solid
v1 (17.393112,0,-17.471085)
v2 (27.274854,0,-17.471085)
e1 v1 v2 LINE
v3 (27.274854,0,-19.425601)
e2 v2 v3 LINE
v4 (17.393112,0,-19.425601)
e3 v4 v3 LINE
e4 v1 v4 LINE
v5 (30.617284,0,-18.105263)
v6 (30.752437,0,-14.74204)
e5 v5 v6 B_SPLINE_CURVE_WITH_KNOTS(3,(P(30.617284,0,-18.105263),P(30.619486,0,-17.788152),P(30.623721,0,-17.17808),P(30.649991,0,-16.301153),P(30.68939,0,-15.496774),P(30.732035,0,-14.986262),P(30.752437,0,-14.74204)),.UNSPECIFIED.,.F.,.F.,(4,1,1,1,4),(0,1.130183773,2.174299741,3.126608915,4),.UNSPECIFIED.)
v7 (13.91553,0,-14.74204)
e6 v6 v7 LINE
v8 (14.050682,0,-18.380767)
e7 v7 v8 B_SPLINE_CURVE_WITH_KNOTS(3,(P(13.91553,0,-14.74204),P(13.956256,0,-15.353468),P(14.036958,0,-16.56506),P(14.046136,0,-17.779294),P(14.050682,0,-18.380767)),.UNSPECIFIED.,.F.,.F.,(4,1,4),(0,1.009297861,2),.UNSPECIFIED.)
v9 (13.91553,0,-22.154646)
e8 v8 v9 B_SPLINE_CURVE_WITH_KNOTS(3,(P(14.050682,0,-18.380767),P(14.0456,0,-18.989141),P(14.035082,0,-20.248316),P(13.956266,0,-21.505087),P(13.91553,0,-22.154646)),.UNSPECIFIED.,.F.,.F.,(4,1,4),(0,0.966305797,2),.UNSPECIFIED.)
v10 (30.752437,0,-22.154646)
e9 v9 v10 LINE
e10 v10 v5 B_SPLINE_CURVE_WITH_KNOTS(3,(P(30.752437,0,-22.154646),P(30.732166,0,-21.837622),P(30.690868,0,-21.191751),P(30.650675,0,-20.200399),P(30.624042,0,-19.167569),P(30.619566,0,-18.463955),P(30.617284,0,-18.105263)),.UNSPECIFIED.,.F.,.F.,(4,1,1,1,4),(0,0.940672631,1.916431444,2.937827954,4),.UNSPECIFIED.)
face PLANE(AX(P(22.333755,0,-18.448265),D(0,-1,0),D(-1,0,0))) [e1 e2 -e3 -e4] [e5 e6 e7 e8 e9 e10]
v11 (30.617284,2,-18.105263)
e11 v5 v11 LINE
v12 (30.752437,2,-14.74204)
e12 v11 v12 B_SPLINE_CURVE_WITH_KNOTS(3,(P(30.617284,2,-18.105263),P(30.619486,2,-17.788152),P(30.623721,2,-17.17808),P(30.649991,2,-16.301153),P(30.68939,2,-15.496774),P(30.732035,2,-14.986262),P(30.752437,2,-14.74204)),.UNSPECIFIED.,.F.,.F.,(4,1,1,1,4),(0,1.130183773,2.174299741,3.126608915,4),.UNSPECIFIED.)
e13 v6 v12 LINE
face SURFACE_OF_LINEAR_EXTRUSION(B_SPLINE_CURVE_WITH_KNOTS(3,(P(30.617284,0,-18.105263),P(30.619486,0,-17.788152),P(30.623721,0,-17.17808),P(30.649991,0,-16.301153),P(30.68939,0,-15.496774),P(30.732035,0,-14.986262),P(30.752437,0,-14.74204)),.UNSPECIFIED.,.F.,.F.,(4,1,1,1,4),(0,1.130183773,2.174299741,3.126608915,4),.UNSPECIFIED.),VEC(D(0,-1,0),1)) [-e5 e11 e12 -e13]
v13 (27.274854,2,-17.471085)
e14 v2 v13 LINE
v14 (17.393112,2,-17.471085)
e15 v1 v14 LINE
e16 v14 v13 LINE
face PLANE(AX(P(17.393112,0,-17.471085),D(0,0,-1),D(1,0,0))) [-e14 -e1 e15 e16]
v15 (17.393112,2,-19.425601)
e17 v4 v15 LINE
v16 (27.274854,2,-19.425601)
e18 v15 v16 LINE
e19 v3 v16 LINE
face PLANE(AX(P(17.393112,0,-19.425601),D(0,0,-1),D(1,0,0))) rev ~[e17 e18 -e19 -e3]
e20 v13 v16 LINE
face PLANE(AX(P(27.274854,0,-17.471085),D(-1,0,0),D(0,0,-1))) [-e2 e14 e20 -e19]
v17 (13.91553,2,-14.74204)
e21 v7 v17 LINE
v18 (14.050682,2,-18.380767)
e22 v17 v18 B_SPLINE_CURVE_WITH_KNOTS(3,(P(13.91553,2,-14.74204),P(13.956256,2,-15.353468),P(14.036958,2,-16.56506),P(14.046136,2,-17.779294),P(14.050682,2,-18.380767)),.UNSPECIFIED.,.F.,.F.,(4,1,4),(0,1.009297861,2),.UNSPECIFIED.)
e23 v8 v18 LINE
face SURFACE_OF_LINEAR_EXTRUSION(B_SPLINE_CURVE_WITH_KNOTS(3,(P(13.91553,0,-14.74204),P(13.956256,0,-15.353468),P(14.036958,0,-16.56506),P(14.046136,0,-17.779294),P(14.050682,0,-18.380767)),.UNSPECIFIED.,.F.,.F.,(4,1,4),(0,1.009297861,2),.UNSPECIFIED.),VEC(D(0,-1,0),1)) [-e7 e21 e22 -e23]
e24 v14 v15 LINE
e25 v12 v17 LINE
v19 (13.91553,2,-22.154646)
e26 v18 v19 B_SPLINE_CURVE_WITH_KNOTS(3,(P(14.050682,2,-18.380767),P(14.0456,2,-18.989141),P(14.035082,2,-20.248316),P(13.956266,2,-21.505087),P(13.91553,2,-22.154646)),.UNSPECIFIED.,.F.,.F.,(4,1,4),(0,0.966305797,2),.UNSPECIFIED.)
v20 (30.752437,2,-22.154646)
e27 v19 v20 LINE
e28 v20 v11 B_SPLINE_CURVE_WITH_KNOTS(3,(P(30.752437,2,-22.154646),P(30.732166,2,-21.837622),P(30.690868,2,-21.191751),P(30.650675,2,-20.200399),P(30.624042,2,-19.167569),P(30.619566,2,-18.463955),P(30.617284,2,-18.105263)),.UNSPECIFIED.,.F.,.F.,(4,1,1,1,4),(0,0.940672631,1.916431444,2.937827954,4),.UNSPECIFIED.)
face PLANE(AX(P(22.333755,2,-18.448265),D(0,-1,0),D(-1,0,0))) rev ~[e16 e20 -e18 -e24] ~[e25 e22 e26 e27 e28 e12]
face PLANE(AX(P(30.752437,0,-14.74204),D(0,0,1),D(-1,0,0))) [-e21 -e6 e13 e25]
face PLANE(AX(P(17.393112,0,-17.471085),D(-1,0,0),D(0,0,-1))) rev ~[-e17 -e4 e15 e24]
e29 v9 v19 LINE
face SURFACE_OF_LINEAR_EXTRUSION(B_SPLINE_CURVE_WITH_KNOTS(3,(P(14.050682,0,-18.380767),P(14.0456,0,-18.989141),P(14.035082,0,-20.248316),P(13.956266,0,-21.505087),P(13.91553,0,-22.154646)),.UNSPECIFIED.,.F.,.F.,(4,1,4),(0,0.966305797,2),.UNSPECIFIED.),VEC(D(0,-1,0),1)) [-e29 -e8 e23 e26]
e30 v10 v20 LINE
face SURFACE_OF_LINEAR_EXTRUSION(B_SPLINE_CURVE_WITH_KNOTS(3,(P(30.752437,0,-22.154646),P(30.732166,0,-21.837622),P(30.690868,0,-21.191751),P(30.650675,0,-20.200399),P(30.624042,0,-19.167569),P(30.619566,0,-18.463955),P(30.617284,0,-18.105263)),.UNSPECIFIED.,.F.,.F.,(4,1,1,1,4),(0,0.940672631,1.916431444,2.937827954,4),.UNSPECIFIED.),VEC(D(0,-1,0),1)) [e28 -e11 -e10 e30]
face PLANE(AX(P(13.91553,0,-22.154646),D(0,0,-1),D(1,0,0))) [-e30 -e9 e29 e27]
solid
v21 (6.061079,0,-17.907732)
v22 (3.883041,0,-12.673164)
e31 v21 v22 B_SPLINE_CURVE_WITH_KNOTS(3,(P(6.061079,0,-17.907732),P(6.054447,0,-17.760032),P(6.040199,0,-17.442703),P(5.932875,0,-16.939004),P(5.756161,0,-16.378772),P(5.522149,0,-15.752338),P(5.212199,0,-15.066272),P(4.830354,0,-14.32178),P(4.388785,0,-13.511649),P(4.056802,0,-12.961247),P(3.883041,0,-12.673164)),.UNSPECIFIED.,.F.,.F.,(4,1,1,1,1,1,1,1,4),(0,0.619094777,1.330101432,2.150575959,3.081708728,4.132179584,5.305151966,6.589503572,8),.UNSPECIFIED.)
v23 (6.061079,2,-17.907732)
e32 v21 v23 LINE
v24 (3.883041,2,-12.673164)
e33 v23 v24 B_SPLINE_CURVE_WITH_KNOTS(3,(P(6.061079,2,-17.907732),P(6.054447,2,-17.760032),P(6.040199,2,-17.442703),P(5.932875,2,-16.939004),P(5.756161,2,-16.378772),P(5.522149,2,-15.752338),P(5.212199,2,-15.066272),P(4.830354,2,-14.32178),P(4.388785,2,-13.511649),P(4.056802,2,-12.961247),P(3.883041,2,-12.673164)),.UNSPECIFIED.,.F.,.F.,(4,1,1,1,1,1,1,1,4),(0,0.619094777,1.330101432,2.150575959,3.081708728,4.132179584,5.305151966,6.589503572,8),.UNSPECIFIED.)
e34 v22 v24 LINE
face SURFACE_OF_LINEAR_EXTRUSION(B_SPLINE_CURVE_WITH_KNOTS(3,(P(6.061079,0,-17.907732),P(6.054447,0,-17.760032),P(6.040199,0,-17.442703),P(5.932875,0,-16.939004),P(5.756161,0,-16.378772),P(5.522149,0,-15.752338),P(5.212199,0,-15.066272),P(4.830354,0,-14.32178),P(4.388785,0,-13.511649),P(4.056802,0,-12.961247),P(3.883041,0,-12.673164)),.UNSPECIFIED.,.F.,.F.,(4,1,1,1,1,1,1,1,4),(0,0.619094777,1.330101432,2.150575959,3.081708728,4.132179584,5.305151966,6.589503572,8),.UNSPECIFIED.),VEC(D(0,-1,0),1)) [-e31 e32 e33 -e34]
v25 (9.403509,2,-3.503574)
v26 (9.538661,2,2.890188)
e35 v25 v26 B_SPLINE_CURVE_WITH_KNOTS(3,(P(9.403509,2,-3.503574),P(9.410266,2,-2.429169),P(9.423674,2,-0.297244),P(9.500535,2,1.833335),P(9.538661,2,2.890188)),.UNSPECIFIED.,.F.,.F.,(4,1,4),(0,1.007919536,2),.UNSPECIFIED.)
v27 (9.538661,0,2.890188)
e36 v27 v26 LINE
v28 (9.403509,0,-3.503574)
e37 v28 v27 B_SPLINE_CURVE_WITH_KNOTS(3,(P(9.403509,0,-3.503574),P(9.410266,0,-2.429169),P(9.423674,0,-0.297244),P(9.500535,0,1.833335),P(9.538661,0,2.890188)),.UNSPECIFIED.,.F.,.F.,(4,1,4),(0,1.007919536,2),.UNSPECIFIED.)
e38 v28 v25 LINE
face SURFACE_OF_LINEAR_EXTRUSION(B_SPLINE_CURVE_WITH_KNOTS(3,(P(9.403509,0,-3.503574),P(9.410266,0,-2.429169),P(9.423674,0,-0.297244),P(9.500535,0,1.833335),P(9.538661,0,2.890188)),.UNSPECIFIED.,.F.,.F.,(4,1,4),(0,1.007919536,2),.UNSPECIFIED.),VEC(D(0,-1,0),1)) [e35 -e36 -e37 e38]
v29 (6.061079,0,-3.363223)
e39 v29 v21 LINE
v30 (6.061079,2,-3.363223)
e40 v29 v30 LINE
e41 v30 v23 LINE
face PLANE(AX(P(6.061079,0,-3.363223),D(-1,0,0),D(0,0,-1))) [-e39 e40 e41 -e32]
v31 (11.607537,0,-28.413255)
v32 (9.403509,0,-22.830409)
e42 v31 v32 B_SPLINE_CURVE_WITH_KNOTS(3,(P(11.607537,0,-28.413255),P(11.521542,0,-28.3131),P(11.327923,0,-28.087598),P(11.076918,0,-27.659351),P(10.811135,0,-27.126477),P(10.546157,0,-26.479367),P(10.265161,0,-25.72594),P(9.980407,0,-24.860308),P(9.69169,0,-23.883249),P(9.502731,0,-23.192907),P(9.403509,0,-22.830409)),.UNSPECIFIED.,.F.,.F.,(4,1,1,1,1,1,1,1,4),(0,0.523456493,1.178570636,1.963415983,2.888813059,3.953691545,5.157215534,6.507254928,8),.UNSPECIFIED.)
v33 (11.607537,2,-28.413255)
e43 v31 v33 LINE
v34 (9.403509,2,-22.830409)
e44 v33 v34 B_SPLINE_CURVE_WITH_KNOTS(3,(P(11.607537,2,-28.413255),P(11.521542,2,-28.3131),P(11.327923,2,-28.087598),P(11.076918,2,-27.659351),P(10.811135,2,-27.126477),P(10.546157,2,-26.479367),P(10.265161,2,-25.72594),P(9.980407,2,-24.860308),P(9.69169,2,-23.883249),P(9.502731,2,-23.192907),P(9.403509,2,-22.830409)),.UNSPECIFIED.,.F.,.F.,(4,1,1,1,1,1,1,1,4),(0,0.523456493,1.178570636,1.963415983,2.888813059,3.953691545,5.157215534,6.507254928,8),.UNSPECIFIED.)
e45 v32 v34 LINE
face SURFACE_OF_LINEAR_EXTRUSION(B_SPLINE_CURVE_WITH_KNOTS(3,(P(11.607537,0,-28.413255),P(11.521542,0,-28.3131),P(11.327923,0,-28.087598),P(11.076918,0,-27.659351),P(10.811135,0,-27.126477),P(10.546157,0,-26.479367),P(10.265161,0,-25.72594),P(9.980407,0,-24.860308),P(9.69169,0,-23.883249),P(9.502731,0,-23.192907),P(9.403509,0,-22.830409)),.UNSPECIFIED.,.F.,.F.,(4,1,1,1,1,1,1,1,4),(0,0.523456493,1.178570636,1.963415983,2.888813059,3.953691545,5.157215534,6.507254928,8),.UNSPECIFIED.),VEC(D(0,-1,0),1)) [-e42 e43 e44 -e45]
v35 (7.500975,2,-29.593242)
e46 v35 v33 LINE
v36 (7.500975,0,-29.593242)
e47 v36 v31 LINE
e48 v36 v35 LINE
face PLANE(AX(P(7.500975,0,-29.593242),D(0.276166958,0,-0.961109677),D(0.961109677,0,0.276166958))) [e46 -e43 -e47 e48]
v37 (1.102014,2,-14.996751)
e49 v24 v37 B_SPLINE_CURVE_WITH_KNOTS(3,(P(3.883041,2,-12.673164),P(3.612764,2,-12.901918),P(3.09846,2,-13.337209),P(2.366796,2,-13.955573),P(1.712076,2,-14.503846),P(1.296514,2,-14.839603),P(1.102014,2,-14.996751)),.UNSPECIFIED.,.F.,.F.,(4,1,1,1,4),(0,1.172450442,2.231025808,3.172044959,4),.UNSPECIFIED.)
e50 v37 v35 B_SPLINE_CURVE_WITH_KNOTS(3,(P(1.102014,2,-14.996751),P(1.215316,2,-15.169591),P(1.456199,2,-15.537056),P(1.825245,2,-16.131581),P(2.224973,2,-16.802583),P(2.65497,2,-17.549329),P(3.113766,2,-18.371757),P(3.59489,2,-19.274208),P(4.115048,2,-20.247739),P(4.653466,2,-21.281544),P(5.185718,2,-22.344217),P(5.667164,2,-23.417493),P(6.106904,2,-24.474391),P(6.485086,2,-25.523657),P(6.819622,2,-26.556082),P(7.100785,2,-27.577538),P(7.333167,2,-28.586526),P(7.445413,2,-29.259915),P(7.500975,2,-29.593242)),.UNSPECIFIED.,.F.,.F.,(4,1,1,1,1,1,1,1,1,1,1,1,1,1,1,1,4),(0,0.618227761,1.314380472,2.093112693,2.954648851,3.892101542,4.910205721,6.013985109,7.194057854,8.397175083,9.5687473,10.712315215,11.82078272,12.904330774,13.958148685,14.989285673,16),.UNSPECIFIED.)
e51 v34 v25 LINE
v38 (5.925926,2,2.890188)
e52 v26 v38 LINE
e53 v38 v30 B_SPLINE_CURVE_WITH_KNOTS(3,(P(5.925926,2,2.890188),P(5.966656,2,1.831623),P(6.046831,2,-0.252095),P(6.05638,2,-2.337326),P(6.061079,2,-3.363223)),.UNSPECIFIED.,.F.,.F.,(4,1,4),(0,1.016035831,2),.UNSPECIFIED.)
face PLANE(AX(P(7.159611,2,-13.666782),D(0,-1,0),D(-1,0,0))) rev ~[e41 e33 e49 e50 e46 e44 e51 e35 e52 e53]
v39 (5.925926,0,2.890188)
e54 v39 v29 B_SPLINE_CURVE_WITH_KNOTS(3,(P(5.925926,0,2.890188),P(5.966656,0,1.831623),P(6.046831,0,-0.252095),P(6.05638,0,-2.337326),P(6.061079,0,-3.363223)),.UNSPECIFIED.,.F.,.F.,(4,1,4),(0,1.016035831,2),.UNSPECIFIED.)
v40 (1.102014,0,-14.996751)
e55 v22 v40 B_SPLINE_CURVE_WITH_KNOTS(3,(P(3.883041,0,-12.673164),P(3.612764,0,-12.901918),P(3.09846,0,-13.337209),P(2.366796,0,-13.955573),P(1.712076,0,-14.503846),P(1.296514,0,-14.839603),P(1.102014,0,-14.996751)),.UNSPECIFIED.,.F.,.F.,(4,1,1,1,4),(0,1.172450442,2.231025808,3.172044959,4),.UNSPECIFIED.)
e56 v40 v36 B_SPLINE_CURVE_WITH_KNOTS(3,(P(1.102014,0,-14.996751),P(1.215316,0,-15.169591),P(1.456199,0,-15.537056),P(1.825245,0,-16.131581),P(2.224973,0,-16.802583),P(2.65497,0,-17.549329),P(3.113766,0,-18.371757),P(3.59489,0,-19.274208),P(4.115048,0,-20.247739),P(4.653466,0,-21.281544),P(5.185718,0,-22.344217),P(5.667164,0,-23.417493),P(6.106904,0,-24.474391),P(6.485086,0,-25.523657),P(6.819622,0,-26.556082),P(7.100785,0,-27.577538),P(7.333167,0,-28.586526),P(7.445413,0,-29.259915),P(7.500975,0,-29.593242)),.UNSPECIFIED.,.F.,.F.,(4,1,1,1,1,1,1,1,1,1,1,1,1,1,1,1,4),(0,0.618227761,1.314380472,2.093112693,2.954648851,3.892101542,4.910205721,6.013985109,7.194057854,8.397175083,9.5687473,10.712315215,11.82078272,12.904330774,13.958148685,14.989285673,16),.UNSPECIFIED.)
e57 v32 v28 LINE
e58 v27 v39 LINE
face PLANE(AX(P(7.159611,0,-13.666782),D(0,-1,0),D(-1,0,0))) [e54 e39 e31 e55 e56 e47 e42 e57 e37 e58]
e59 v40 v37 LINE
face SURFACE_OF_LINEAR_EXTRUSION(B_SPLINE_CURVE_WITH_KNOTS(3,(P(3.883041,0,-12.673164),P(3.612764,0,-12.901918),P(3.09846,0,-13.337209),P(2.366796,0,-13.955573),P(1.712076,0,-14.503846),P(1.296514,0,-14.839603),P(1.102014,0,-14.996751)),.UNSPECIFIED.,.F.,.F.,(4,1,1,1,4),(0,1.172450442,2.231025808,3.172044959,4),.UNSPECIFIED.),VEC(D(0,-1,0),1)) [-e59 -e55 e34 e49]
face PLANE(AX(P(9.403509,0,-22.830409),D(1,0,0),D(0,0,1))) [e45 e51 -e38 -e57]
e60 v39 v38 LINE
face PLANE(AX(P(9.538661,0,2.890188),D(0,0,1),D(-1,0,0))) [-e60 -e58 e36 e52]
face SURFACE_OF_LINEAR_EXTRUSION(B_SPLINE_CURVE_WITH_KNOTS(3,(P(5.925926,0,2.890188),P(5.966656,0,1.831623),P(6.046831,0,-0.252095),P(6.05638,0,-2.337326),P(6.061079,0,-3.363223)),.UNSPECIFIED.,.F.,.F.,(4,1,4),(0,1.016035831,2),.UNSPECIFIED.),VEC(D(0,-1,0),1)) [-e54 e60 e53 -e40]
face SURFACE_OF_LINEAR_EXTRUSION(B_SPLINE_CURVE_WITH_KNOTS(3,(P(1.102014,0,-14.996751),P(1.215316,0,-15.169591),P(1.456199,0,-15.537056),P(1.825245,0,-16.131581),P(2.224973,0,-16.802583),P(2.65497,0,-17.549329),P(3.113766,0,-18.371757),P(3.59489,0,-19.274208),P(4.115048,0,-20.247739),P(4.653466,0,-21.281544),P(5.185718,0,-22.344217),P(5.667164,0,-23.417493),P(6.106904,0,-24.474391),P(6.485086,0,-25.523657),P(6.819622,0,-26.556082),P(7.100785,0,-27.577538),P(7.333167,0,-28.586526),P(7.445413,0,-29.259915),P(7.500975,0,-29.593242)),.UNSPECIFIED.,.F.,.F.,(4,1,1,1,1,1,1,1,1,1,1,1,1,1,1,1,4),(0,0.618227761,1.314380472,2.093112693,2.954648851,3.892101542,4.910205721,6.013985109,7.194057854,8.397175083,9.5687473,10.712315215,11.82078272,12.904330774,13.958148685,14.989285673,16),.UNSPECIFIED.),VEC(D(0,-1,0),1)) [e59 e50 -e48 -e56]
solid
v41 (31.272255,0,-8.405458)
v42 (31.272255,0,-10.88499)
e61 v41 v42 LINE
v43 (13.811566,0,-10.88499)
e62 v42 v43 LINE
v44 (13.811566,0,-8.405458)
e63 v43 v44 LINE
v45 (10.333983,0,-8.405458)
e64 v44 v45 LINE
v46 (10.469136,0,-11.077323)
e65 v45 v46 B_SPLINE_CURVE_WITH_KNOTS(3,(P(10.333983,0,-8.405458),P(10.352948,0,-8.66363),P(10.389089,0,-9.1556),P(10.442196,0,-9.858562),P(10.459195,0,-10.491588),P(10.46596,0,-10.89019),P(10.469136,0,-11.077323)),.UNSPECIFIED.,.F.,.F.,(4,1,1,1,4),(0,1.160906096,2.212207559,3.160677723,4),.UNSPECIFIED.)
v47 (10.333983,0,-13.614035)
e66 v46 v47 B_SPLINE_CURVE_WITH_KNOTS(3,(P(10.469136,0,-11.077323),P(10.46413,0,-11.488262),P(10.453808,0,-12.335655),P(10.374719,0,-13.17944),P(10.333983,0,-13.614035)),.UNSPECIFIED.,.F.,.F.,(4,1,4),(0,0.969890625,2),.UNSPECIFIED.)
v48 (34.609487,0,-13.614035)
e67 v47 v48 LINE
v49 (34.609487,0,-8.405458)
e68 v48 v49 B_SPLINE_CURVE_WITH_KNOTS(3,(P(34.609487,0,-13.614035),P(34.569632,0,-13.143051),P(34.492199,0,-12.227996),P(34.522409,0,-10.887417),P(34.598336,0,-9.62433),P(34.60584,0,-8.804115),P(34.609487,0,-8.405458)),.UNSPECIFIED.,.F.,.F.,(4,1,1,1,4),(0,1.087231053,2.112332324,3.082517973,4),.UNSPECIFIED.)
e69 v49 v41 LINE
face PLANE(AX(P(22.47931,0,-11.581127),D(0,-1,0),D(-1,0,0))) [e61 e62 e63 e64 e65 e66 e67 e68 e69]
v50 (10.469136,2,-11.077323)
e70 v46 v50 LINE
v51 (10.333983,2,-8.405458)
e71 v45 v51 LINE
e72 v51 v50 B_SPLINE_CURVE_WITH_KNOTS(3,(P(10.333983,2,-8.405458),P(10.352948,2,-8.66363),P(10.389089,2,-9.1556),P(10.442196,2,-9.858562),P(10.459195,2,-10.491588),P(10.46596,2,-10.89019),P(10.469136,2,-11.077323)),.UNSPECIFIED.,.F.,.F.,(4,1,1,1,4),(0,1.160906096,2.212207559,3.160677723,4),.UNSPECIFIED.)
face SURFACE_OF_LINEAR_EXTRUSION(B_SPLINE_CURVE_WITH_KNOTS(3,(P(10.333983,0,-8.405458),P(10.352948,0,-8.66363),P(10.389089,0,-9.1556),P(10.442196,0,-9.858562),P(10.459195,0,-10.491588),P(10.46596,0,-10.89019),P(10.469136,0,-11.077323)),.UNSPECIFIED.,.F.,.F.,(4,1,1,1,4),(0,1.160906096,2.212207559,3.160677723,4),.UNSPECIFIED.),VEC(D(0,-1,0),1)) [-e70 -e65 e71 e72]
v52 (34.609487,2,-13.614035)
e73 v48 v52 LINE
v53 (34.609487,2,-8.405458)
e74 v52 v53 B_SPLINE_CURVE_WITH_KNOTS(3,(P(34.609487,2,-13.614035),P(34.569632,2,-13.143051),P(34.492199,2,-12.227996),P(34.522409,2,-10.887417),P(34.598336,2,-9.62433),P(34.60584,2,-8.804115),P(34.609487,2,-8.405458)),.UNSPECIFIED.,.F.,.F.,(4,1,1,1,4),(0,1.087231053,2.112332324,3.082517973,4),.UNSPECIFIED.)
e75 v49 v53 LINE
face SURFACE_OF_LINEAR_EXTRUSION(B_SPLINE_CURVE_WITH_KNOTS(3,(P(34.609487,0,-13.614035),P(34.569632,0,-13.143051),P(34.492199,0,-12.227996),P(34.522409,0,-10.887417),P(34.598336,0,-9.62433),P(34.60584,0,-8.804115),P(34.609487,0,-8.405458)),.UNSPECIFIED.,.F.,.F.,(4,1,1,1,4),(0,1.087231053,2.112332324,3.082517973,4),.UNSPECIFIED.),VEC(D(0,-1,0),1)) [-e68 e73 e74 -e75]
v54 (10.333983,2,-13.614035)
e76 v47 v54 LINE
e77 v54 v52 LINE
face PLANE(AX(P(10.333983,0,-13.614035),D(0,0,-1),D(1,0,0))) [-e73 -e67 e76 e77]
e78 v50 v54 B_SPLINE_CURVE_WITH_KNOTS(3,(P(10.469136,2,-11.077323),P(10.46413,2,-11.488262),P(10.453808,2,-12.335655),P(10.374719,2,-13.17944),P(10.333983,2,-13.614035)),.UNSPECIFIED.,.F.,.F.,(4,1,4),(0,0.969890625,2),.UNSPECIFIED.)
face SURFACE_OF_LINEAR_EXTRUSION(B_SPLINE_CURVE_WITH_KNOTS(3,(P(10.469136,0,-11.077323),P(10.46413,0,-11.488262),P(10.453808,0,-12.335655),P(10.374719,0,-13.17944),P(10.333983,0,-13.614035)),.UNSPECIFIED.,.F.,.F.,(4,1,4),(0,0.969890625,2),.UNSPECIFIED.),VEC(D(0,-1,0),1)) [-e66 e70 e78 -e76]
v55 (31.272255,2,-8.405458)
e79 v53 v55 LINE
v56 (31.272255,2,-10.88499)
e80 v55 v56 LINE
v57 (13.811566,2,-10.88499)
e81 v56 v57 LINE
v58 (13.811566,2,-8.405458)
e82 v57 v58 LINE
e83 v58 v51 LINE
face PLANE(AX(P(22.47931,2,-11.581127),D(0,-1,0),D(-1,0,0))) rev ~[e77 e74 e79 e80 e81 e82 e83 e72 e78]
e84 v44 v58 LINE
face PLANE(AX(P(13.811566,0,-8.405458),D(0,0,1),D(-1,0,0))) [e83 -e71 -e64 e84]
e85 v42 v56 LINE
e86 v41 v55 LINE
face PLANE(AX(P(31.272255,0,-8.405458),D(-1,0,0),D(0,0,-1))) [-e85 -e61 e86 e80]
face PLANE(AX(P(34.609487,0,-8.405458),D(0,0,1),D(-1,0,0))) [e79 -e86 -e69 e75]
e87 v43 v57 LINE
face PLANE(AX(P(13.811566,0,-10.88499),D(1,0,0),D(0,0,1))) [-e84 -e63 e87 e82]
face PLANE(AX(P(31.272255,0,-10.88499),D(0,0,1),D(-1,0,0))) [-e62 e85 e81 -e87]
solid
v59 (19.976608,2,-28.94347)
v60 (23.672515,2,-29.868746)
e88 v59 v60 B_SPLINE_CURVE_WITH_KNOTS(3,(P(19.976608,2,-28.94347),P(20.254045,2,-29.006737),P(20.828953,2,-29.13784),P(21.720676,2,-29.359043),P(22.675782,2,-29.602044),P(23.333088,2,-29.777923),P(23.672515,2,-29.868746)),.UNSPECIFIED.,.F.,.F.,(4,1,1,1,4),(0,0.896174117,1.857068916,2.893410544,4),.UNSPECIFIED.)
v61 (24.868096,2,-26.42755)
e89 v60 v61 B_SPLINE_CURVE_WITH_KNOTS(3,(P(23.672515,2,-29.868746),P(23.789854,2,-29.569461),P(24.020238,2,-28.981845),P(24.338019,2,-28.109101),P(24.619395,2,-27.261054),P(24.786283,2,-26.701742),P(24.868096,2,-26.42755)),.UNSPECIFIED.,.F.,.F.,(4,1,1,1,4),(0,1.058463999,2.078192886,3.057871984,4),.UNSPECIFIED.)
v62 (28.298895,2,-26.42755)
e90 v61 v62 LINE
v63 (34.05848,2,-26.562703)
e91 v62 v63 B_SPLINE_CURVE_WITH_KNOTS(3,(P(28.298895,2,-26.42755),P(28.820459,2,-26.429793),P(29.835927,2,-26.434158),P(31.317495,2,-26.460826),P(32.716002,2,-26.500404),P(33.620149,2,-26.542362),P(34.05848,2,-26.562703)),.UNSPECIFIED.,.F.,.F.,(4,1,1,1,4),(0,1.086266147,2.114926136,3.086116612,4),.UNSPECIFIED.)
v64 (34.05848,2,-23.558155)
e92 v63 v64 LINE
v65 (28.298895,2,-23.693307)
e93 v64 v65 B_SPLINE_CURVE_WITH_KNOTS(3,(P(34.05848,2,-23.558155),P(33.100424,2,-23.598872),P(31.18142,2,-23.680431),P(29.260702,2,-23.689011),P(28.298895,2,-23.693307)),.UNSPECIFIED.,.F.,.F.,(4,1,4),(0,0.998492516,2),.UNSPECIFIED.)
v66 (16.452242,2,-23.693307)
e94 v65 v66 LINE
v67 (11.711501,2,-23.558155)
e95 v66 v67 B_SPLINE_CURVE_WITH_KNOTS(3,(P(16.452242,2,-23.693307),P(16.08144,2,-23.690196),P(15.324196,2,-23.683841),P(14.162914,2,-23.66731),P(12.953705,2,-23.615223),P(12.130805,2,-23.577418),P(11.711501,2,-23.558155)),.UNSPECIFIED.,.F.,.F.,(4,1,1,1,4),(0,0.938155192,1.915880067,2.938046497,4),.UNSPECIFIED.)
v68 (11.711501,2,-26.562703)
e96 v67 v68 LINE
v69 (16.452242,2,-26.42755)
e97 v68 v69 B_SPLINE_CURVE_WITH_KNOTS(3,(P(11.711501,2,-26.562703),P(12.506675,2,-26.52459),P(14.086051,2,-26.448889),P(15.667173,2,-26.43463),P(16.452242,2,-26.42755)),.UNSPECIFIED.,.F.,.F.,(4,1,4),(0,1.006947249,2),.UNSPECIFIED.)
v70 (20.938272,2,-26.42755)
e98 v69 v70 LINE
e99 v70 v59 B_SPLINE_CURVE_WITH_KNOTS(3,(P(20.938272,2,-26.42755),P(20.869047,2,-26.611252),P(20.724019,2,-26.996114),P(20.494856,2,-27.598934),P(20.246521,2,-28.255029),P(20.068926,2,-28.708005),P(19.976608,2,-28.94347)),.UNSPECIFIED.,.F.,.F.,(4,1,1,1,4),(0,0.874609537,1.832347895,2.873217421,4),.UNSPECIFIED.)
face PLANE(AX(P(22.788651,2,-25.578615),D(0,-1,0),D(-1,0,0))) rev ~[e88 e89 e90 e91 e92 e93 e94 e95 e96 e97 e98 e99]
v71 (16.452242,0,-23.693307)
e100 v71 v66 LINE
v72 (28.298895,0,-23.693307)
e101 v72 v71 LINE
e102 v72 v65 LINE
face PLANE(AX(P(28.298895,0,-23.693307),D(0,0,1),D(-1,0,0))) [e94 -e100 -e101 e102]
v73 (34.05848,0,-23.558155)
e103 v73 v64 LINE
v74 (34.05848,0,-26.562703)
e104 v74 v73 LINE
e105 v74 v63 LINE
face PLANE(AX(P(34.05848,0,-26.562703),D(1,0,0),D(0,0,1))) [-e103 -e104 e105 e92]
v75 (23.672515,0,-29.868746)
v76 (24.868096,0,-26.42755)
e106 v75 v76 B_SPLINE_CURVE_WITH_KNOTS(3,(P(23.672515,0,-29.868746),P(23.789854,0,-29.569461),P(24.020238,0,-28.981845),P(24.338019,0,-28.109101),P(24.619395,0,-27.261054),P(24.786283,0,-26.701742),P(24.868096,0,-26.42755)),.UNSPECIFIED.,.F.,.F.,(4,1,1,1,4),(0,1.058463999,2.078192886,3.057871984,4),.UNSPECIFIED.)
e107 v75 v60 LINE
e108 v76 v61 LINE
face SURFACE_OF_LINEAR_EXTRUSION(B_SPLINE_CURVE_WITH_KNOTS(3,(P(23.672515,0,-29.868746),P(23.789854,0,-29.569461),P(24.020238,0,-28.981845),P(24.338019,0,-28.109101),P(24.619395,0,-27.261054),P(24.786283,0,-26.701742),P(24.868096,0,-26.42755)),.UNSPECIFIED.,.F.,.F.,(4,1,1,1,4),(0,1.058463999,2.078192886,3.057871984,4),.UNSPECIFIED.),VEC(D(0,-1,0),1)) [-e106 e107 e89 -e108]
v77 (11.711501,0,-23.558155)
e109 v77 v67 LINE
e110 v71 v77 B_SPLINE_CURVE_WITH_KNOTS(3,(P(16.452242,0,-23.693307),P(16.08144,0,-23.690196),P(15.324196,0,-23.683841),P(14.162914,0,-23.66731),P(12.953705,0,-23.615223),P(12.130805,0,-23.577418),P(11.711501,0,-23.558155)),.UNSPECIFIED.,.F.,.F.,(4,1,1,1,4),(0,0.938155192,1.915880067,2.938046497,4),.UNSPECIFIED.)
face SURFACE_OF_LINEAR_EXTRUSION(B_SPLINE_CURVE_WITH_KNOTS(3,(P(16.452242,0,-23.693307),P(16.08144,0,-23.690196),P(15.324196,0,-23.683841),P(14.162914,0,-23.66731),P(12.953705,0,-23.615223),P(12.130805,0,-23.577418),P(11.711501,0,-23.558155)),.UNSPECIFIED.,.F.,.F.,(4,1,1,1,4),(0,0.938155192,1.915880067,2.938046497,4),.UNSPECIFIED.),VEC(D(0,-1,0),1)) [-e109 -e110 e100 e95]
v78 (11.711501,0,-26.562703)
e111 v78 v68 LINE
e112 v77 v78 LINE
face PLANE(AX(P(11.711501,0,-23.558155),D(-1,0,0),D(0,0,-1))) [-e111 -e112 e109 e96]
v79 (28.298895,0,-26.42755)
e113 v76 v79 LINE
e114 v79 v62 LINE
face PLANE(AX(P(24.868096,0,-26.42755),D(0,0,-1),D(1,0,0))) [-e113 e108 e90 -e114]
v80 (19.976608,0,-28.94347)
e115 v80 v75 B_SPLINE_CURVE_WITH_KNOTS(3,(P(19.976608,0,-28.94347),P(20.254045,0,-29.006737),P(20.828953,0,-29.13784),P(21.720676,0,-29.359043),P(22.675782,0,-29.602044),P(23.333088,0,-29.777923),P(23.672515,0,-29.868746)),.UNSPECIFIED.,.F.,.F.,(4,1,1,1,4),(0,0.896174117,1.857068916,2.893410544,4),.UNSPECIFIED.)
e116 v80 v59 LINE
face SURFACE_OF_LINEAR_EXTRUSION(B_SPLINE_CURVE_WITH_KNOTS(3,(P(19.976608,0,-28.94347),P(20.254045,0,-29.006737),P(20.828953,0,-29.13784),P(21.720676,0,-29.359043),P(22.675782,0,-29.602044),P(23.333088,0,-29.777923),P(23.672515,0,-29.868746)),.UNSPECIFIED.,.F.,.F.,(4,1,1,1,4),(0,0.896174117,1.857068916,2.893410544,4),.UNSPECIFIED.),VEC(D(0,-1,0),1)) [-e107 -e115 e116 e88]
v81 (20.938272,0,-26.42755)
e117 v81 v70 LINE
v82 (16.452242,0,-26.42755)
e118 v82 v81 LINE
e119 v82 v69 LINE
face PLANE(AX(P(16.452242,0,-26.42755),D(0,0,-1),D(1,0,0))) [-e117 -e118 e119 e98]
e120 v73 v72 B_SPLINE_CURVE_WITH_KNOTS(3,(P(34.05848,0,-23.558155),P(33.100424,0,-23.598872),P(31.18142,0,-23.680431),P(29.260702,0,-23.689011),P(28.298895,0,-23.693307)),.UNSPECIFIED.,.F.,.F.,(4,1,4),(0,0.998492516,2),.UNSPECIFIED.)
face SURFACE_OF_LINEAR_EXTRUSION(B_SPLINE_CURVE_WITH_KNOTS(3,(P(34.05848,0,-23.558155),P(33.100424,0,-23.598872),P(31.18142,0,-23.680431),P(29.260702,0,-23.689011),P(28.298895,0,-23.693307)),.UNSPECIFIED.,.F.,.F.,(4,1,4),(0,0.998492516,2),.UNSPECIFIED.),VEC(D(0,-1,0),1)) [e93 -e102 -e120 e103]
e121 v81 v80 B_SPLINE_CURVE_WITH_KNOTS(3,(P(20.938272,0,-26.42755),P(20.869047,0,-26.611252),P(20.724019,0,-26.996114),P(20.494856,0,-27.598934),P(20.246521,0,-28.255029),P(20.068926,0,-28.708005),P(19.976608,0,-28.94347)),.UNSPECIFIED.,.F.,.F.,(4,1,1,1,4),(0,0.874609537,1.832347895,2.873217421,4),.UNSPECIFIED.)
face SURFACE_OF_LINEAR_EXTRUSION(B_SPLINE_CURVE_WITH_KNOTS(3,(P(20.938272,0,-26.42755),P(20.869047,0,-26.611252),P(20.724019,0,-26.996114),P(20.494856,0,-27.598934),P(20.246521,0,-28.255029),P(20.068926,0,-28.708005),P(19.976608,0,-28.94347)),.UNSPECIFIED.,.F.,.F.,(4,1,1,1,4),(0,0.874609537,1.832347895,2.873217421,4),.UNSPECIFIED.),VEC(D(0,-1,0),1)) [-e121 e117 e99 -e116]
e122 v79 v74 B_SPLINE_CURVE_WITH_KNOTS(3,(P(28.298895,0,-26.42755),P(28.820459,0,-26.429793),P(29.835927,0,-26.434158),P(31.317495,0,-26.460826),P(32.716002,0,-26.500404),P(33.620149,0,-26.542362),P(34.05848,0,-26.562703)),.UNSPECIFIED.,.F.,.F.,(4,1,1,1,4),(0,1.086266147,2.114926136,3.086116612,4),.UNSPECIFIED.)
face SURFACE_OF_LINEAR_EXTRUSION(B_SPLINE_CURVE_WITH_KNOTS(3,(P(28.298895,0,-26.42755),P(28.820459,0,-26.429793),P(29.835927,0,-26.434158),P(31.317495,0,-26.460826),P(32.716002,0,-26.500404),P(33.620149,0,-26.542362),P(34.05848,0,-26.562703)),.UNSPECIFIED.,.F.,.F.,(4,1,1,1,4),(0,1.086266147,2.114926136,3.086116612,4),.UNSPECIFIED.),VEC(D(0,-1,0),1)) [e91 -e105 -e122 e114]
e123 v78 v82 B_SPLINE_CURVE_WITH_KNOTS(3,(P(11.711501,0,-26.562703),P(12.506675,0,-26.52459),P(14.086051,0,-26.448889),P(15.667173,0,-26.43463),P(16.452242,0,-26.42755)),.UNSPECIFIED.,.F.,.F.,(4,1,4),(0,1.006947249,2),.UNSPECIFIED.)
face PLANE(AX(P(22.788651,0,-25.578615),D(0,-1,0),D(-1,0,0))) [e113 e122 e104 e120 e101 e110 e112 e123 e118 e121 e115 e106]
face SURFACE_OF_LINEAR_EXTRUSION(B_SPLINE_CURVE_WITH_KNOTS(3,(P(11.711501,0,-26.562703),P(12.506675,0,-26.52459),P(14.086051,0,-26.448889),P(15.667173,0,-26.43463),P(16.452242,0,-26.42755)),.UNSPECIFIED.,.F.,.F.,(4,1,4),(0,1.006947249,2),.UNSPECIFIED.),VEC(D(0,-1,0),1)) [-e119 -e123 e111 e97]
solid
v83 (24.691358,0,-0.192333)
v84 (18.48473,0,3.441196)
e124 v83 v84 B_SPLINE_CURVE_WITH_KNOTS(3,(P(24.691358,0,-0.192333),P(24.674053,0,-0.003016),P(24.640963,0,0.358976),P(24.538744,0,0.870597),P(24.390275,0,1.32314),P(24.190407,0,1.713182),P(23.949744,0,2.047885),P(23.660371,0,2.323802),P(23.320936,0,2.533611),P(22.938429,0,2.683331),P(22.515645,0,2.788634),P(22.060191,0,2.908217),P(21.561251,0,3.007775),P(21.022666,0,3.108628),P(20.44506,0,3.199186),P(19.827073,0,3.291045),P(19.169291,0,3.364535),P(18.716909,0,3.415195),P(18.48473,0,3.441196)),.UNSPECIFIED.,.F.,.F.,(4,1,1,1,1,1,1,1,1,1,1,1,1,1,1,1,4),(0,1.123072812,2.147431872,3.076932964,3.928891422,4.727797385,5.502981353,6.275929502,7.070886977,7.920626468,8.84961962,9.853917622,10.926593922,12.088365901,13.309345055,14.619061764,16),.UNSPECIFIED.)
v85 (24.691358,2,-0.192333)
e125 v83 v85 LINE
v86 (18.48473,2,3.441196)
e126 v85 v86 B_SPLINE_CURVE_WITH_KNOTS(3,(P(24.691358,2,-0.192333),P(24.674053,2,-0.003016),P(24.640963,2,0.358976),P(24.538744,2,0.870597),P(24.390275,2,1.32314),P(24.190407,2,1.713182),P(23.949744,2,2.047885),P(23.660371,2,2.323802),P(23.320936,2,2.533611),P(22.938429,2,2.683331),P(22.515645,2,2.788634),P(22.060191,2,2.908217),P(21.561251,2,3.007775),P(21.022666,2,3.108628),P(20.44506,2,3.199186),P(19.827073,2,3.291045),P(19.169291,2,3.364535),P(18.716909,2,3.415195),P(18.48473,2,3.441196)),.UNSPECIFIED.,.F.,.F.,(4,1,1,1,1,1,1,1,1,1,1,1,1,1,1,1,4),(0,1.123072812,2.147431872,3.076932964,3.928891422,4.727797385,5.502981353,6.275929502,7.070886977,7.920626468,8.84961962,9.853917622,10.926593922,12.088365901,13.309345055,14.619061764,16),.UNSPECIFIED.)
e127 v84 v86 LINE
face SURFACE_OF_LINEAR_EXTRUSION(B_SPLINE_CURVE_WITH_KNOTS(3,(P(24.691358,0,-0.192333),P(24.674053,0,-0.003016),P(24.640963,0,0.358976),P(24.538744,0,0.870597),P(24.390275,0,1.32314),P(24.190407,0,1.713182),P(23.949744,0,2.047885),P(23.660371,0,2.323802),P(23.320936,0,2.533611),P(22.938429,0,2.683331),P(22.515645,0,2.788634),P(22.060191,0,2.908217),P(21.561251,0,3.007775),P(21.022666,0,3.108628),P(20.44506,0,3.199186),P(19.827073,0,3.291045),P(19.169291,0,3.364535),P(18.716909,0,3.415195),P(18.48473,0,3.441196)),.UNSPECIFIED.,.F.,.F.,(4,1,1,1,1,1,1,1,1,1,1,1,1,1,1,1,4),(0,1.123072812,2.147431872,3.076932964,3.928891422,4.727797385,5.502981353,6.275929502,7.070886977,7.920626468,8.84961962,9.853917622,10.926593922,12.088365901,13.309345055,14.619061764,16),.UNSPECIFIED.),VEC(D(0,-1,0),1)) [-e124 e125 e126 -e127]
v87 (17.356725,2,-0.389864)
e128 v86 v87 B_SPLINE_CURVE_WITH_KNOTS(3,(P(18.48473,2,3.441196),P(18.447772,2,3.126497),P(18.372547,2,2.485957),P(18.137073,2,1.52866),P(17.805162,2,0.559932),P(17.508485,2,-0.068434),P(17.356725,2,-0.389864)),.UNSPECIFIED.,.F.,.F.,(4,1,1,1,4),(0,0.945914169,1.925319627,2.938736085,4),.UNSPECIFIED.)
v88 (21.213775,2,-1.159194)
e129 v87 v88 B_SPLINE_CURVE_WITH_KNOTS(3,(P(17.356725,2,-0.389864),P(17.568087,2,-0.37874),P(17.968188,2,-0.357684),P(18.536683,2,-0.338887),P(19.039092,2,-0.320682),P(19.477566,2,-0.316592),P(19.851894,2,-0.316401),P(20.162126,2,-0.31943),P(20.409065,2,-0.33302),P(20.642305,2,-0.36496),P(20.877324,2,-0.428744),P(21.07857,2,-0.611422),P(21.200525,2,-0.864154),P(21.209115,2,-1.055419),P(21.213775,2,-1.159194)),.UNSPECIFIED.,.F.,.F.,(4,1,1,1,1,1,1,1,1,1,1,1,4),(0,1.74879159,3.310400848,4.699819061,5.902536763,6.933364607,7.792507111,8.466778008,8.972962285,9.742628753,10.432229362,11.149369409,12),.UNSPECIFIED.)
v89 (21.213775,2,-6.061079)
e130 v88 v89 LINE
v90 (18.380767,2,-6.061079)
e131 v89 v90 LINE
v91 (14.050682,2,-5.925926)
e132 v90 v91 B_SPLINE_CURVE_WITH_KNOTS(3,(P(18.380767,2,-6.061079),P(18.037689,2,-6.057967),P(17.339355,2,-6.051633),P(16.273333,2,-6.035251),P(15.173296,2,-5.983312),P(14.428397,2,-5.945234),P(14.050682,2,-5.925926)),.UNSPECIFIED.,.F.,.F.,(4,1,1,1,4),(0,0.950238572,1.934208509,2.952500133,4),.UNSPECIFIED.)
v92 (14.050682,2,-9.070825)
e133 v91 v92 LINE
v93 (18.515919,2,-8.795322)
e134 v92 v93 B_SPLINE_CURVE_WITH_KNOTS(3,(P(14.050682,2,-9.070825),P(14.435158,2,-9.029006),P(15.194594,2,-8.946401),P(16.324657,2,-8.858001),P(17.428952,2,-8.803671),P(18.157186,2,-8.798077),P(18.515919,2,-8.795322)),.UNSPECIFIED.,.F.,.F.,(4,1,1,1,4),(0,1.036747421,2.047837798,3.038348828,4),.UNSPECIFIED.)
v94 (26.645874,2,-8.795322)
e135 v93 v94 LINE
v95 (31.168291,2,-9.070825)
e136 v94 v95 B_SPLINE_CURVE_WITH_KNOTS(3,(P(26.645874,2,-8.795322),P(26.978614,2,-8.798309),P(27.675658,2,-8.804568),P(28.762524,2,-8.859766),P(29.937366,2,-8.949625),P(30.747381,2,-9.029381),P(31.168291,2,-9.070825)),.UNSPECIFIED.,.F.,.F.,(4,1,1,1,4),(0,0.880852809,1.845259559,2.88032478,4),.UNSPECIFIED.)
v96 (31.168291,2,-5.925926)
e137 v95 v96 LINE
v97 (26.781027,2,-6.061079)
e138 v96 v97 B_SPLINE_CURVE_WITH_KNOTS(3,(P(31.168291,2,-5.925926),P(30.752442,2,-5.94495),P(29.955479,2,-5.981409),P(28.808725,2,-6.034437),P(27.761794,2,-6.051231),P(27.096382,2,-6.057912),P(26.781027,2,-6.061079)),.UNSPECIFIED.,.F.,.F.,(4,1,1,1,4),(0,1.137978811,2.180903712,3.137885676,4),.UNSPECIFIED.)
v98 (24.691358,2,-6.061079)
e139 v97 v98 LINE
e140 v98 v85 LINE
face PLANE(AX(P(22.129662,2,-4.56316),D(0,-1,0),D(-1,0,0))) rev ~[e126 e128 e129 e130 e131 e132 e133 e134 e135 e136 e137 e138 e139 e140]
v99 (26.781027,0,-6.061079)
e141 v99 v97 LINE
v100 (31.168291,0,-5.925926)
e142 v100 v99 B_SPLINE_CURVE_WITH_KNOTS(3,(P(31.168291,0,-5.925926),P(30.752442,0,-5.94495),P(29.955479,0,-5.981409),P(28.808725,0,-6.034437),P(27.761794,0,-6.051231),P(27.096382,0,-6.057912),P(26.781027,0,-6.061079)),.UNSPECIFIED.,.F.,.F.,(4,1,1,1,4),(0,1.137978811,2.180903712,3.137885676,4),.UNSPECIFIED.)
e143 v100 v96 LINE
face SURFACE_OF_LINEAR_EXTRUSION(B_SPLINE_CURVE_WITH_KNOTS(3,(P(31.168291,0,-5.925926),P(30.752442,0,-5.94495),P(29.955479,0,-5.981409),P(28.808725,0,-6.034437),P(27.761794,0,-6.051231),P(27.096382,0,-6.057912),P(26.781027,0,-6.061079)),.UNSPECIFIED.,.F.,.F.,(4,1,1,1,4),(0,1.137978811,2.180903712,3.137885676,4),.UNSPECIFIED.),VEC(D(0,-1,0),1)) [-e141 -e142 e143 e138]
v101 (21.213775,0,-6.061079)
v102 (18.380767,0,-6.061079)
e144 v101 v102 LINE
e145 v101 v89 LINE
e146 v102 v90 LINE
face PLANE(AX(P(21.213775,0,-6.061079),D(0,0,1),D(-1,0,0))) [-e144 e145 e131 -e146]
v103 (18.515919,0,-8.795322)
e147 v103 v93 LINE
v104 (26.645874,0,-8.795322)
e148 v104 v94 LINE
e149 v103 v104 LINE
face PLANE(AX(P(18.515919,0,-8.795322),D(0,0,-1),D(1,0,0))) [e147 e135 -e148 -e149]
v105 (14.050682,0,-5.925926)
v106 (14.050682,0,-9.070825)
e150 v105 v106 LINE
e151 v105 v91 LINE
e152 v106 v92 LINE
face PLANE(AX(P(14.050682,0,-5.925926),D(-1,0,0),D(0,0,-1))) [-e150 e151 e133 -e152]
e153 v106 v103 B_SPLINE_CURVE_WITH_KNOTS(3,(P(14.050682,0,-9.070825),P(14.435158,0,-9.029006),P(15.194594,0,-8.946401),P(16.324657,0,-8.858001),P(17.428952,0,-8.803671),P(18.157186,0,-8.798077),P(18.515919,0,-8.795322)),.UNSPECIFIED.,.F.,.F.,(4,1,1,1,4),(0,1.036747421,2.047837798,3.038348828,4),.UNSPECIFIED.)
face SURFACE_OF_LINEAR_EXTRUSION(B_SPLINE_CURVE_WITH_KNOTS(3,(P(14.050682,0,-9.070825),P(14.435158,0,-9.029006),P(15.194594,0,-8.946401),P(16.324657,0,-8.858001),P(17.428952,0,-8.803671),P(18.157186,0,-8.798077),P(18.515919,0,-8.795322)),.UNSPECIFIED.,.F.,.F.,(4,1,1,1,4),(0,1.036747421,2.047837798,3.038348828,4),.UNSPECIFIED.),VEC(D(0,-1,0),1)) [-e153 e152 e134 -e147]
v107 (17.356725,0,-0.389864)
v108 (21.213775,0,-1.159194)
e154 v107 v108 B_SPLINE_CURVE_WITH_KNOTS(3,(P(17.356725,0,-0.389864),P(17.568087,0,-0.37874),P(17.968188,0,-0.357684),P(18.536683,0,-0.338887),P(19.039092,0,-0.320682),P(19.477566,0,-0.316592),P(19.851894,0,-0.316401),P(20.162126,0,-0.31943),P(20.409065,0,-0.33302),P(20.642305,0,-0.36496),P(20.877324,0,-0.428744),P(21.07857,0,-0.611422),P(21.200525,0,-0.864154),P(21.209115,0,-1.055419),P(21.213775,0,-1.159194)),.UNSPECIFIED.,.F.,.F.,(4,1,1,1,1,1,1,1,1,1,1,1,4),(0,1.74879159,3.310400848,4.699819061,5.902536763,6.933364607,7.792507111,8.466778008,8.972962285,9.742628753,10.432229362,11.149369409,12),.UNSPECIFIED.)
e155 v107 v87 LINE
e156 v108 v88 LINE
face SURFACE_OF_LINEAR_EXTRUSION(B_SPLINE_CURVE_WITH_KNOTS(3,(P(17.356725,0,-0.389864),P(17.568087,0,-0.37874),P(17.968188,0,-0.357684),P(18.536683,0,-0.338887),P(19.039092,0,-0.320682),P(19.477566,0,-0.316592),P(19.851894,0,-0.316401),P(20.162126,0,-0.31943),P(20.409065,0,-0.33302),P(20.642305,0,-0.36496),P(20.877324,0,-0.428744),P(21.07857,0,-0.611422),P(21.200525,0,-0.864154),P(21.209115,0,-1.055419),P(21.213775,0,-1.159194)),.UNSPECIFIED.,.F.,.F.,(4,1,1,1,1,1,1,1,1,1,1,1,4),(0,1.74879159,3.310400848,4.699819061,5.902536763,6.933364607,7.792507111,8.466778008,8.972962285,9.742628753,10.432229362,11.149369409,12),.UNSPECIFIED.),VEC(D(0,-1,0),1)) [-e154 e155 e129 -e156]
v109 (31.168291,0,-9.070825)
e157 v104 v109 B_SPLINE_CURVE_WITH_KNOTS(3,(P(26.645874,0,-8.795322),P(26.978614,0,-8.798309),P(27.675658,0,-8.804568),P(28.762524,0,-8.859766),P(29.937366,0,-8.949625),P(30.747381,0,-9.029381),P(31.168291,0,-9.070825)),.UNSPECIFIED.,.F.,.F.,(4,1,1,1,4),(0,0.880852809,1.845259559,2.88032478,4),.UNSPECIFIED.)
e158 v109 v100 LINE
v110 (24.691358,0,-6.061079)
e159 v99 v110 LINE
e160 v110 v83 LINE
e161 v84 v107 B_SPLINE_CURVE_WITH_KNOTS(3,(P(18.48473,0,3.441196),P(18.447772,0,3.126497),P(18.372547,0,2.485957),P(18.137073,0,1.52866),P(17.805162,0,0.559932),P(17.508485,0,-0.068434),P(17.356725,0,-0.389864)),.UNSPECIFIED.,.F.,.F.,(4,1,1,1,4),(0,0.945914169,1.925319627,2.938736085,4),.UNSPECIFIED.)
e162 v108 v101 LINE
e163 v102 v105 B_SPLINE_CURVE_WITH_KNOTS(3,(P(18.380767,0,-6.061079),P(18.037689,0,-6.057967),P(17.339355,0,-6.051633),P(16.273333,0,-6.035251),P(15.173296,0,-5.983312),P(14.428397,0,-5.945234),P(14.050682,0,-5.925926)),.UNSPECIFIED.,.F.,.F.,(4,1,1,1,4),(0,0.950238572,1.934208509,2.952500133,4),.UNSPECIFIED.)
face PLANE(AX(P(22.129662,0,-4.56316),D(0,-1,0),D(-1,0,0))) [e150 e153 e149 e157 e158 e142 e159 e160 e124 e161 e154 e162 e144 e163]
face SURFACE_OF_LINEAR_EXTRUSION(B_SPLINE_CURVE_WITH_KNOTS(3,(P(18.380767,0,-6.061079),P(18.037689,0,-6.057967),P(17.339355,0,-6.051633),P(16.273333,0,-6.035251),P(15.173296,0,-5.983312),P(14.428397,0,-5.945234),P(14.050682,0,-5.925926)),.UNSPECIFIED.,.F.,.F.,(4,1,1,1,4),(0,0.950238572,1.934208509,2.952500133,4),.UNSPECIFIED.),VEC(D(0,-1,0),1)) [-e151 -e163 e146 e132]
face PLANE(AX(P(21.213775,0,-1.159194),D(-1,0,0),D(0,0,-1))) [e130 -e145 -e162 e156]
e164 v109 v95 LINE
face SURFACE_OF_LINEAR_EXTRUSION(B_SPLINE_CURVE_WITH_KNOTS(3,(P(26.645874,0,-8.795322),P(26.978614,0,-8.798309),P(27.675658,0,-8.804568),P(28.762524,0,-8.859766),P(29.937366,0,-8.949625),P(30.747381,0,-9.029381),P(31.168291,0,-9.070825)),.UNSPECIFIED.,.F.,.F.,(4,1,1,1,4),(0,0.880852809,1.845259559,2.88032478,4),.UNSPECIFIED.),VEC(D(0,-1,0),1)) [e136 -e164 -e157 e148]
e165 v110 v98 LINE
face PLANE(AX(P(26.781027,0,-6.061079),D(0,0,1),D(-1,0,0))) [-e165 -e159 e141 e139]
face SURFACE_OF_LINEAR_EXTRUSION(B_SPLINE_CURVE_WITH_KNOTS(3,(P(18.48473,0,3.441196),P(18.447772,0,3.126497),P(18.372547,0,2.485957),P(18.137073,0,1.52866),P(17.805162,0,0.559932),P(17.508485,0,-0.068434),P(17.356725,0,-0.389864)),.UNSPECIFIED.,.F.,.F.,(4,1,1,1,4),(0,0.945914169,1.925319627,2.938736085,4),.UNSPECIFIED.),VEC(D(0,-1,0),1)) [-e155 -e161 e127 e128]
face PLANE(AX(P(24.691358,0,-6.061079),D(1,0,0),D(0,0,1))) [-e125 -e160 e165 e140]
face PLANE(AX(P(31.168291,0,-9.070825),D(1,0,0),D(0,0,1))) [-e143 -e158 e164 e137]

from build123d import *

# Parameters (mm, degrees)
SKETCH_1_W        = 9.88174139
SKETCH_1_H        = 1.95451592
EXTRUDE_1_DEPTH   = 2
EXTRUDE_1_2_DEPTH = 2
EXTRUDE_1_3_DEPTH = 2
EXTRUDE_1_4_DEPTH = 2
EXTRUDE_1_5_DEPTH = 2


with BuildPart() as part:
    # 草图1 → 凸台-拉伸1 (new body)
    with BuildSketch(Plane(origin=(0, 0, 0), x_dir=(1, 0, 0), z_dir=(0, 1, 0))):
        with BuildLine():
            add(Edge.make_bspline(
                [(30.752436647, 22.154645874), (30.73216565, 21.837622414), (30.690867567, 21.191750823), (30.650674713, 20.200398996), (30.624042271, 19.167568844), (30.619565925, 18.463954972), (30.617283951, 18.105263158)],
                knots=[0, 0, 0, 0, 0.940672631, 1.916431444, 2.937827954, 4, 4, 4, 4], degree=3))
            add(Edge.make_bspline(
                [(30.617283951, 18.105263158), (30.619485556, 17.788152365), (30.623721106, 17.178079977), (30.649991291, 16.301153107), (30.689389604, 15.496773518), (30.732035439, 14.986262208), (30.752436647, 14.742040286)],
                knots=[0, 0, 0, 0, 1.130183773, 2.174299741, 3.126608915, 4, 4, 4, 4], degree=3))
            Line((30.752436647, 14.742040286), (13.915529565, 14.742040286))
            add(Edge.make_bspline(
                [(13.915529565, 14.742040286), (13.956255794, 15.353468465), (14.036957897, 16.565059618), (14.046135918, 17.779294289), (14.050682261, 18.380766732)],
                knots=[0, 0, 0, 0, 1.009297861, 2, 2, 2, 2], degree=3))
            add(Edge.make_bspline(
                [(14.050682261, 18.380766732), (14.045600336, 18.989140946), (14.035082083, 20.248316282), (13.956265623, 21.505087377), (13.915529565, 22.154645874)],
                knots=[0, 0, 0, 0, 0.966305797, 2, 2, 2, 2], degree=3))
            Line((13.915529565, 22.154645874), (30.752436647, 22.154645874))
        make_face()
        with Locations((22.333983106, 18.44834308)):
            Rectangle(SKETCH_1_W, SKETCH_1_H, mode=Mode.SUBTRACT)
    extrude(amount=EXTRUDE_1_DEPTH)


with BuildPart() as body_2:
    # 草图1 → Extrude 1 2 (new body)
    with BuildSketch(Plane(origin=(0, 0, 0), x_dir=(1, 0, 0), z_dir=(0, 1, 0))):
        with BuildLine():
            add(Edge.make_bspline(
                [(11.607537362, 28.413255361), (11.521542323, 28.313099671), (11.327923123, 28.087597541), (11.076918098, 27.65935085), (10.811135115, 27.126477181), (10.546157248, 26.479367048), (10.265160581, 25.725940356), (9.980406671, 24.860307783), (9.691689727, 23.883248871), (9.502730954, 23.192907405), (9.403508772, 22.830409357)],
                knots=[0, 0, 0, 0, 0.523456493, 1.178570636, 1.963415983, 2.888813059, 3.953691545, 5.157215534, 6.507254928, 8, 8, 8, 8], degree=3))
            Line((9.403508772, 22.830409357), (9.403508772, 3.503573749))
            add(Edge.make_bspline(
                [(9.403508772, 3.503573749), (9.410266068, 2.429169112), (9.423674472, 0.297243697), (9.500535371, -1.833335456), (9.538661468, -2.890188434)],
                knots=[0, 0, 0, 0, 1.007919536, 2, 2, 2, 2], degree=3))
            Line((9.538661468, -2.890188434), (5.925925926, -2.890188434))
            add(Edge.make_bspline(
                [(5.925925926, -2.890188434), (5.966656183, -1.831622522), (6.046831028, 0.252095156), (6.056380469, 2.337326439), (6.061078622, 3.363222872)],
                knots=[0, 0, 0, 0, 1.016035831, 2, 2, 2, 2], degree=3))
            Line((6.061078622, 3.363222872), (6.061078622, 17.907732294))
            add(Edge.make_bspline(
                [(6.061078622, 17.907732294), (6.054446784, 17.760031814), (6.040198533, 17.442702988), (5.932875038, 16.939003937), (5.756161218, 16.378771824), (5.522148965, 15.752337902), (5.212198692, 15.066272423), (4.830354437, 14.321780096), (4.388784833, 13.511648511), (4.056802228, 12.961247126), (3.883040936, 12.673164392)],
                knots=[0, 0, 0, 0, 0.619094777, 1.330101432, 2.150575959, 3.081708728, 4.132179584, 5.305151966, 6.589503572, 8, 8, 8, 8], degree=3))
            add(Edge.make_bspline(
                [(3.883040936, 12.673164392), (3.61276359, 12.901918393), (3.098459777, 13.337208501), (2.36679578, 13.955572674), (1.712075511, 14.503845986), (1.296514497, 14.839602725), (1.102014295, 14.996751137)],
                knots=[0, 0, 0, 0, 1.172450442, 2.231025808, 3.172044959, 4, 4, 4, 4], degree=3))
            add(Edge.make_bspline(
                [(1.102014295, 14.996751137), (1.21531554, 15.16959098), (1.456199164, 15.537056383), (1.825244862, 16.131581324), (2.224973102, 16.80258347), (2.654969783, 17.549329432), (3.113766194, 18.371756588), (3.594890024, 19.274208026), (4.115048488, 20.247738691), (4.653465803, 21.281544176), (5.185718362, 22.344216921), (5.667164033, 23.417493406), (6.106904055, 24.47439099), (6.485086103, 25.523657296), (6.819621795, 26.556082101), (7.100785324, 27.577538036), (7.333166893, 28.586526237), (7.445412966, 29.259915409), (7.500974659, 29.593242365)],
                knots=[0, 0, 0, 0, 0.618227761, 1.314380472, 2.093112693, 2.954648851, 3.892101542, 4.910205721, 6.013985109, 7.194057854, 8.397175083, 9.5687473, 10.712315215, 11.82078272, 12.904330774, 13.958148685, 14.989285673, 16, 16, 16, 16], degree=3))
            Line((7.500974659, 29.593242365), (11.607537362, 28.413255361))
        make_face()
    extrude(amount=EXTRUDE_1_2_DEPTH)


with BuildPart() as body_3:
    # 草图1 → Extrude 1 3 (new body)
    with BuildSketch(Plane(origin=(0, 0, 0), x_dir=(1, 0, 0), z_dir=(0, 1, 0))):
        with BuildLine():
            add(Edge.make_bspline(
                [(26.645873944, 8.795321637), (26.978614485, 8.798309179), (27.675657914, 8.804567647), (28.762524405, 8.859765502), (29.937366391, 8.949624727), (30.74738061, 9.029381121), (31.168291098, 9.070825211)],
                knots=[0, 0, 0, 0, 0.880852809, 1.845259559, 2.88032478, 4, 4, 4, 4], degree=3))
            Line((31.168291098, 9.070825211), (31.168291098, 5.925925926))
            add(Edge.make_bspline(
                [(31.168291098, 5.925925926), (30.75244187, 5.944949905), (29.955478765, 5.981408813), (28.808724937, 6.034436913), (27.761793894, 6.051230537), (27.096381762, 6.057912077), (26.781026641, 6.061078622)],
                knots=[0, 0, 0, 0, 1.137978811, 2.180903712, 3.137885676, 4, 4, 4, 4], degree=3))
            Line((26.781026641, 6.061078622), (24.691358025, 6.061078622))
            Line((24.691358025, 6.061078622), (24.691358025, 0.192332684))
            add(Edge.make_bspline(
                [(24.691358025, 0.192332684), (24.674052596, 0.003016451), (24.64096282, -0.358975849), (24.538743939, -0.870597487), (24.390274776, -1.323140375), (24.190406787, -1.713181835), (23.94974424, -2.047884975), (23.660371455, -2.323801853), (23.320936211, -2.53361144), (22.938429345, -2.683331465), (22.515645079, -2.788633753), (22.060190664, -2.908217023), (21.561251132, -3.007774873), (21.022666365, -3.108627995), (20.445059899, -3.199186238), (19.827073029, -3.291045153), (19.169291141, -3.364535049), (18.716908791, -3.415195081), (18.484730344, -3.441195582)],
                knots=[0, 0, 0, 0, 1.123072812, 2.147431872, 3.076932964, 3.928891422, 4.727797385, 5.502981353, 6.275929502, 7.070886977, 7.920626468, 8.84961962, 9.853917622, 10.926593922, 12.088365901, 13.309345055, 14.619061764, 16, 16, 16, 16], degree=3))
            add(Edge.make_bspline(
                [(18.484730344, -3.441195582), (18.447772235, -3.126496661), (18.372547469, -2.485956507), (18.137072938, -1.52866004), (17.805162276, -0.559932353), (17.508484903, 0.068434331), (17.356725146, 0.389863548)],
                knots=[0, 0, 0, 0, 0.945914169, 1.925319627, 2.938736085, 4, 4, 4, 4], degree=3))
            add(Edge.make_bspline(
                [(17.356725146, 0.389863548), (17.56808733, 0.378740031), (17.968188494, 0.357683607), (18.536682733, 0.338887253), (19.039092032, 0.320682177), (19.477565779, 0.316592012), (19.851893774, 0.316400558), (20.162126425, 0.319430227), (20.409065349, 0.333019925), (20.642304845, 0.364960025), (20.877324162, 0.428743953), (21.078569545, 0.611421917), (21.200524927, 0.864153535), (21.209114633, 1.055418828), (21.213775179, 1.159194282)],
                knots=[0, 0, 0, 0, 1.74879159, 3.310400848, 4.699819061, 5.902536763, 6.933364607, 7.792507111, 8.466778008, 8.972962285, 9.742628753, 10.432229362, 11.149369409, 12, 12, 12, 12], degree=3))
            Line((21.213775179, 1.159194282), (21.213775179, 6.061078622))
            Line((21.213775179, 6.061078622), (18.380766732, 6.061078622))
            add(Edge.make_bspline(
                [(18.380766732, 6.061078622), (18.037688866, 6.05796704), (17.339354629, 6.051633422), (16.273333377, 6.035251169), (15.173295608, 5.983312344), (14.428397417, 5.945234195), (14.050682261, 5.925925926)],
                knots=[0, 0, 0, 0, 0.950238572, 1.934208509, 2.952500133, 4, 4, 4, 4], degree=3))
            Line((14.050682261, 5.925925926), (14.050682261, 9.070825211))
            add(Edge.make_bspline(
                [(14.050682261, 9.070825211), (14.435157731, 9.029005521), (15.194593814, 8.946401079), (16.324656519, 8.858001123), (17.428951949, 8.803670785), (18.157185557, 8.798077122), (18.515919428, 8.795321637)],
                knots=[0, 0, 0, 0, 1.036747421, 2.047837798, 3.038348828, 4, 4, 4, 4], degree=3))
            Line((18.515919428, 8.795321637), (26.645873944, 8.795321637))
        make_face()
    extrude(amount=EXTRUDE_1_3_DEPTH)


with BuildPart() as body_4:
    # 草图1 → Extrude 1 4 (new body)
    with BuildSketch(Plane(origin=(0, 0, 0), x_dir=(1, 0, 0), z_dir=(0, 1, 0))):
        with BuildLine():
            add(Edge.make_bspline(
                [(34.60948668, 13.614035088), (34.569631585, 13.143050758), (34.492198913, 12.227996483), (34.522408867, 10.887416718), (34.598335958, 9.624329928), (34.605839606, 8.804115246), (34.60948668, 8.40545809)],
                knots=[0, 0, 0, 0, 1.087231053, 2.112332324, 3.082517973, 4, 4, 4, 4], degree=3))
            Line((34.60948668, 8.40545809), (31.272254711, 8.40545809))
            Line((31.272254711, 8.40545809), (31.272254711, 10.884990253))
            Line((31.272254711, 10.884990253), (13.811565952, 10.884990253))
            Line((13.811565952, 10.884990253), (13.811565952, 8.40545809))
            Line((13.811565952, 8.40545809), (10.333983106, 8.40545809))
            add(Edge.make_bspline(
                [(10.333983106, 8.40545809), (10.352948484, 8.663630337), (10.389088662, 9.155600013), (10.442196382, 9.858561772), (10.459194504, 10.491588156), (10.465959712, 10.890189788), (10.469135802, 11.077322937)],
                knots=[0, 0, 0, 0, 1.160906096, 2.212207559, 3.160677723, 4, 4, 4, 4], degree=3))
            add(Edge.make_bspline(
                [(10.469135802, 11.077322937), (10.464130171, 11.488262006), (10.453808118, 12.335654606), (10.374718556, 13.179439647), (10.333983106, 13.614035088)],
                knots=[0, 0, 0, 0, 0.969890625, 2, 2, 2, 2], degree=3))
            Line((10.333983106, 13.614035088), (34.60948668, 13.614035088))
        make_face()
    extrude(amount=EXTRUDE_1_4_DEPTH)


with BuildPart() as body_5:
    # 草图1 → Extrude 1 5 (new body)
    with BuildSketch(Plane(origin=(0, 0, 0), x_dir=(1, 0, 0), z_dir=(0, 1, 0))):
        with BuildLine():
            add(Edge.make_bspline(
                [(23.67251462, 29.868745939), (23.789853619, 29.569461312), (24.020237528, 28.981844556), (24.338018683, 28.10910085), (24.619394923, 27.261054219), (24.786282718, 26.701742091), (24.868096166, 26.427550357)],
                knots=[0, 0, 0, 0, 1.058463999, 2.078192886, 3.057871984, 4, 4, 4, 4], degree=3))
            Line((24.868096166, 26.427550357), (28.298895387, 26.427550357))
            add(Edge.make_bspline(
                [(28.298895387, 26.427550357), (28.820458839, 26.429792654), (29.83592653, 26.434158334), (31.31749475, 26.460826088), (32.716002289, 26.500404282), (33.620149275, 26.542361974), (34.058479532, 26.562703054)],
                knots=[0, 0, 0, 0, 1.086266147, 2.114926136, 3.086116612, 4, 4, 4, 4], degree=3))
            Line((34.058479532, 26.562703054), (34.058479532, 23.558154646))
            add(Edge.make_bspline(
                [(34.058479532, 23.558154646), (33.100423962, 23.598872398), (31.181419953, 23.68043085), (29.260702059, 23.689010867), (28.298895387, 23.693307342)],
                knots=[0, 0, 0, 0, 0.998492516, 2, 2, 2, 2], degree=3))
            Line((28.298895387, 23.693307342), (16.452241715, 23.693307342))
            add(Edge.make_bspline(
                [(16.452241715, 23.693307342), (16.081439809, 23.690195502), (15.324196243, 23.68384057), (14.162914113, 23.667310478), (12.953704588, 23.615223235), (12.130805389, 23.577418083), (11.711500975, 23.558154646)],
                knots=[0, 0, 0, 0, 0.938155192, 1.915880067, 2.938046497, 4, 4, 4, 4], degree=3))
            Line((11.711500975, 23.558154646), (11.711500975, 26.562703054))
            add(Edge.make_bspline(
                [(11.711500975, 26.562703054), (12.506675075, 26.524589671), (14.086050958, 26.448888818), (15.667172945, 26.434630158), (16.452241715, 26.427550357)],
                knots=[0, 0, 0, 0, 1.006947249, 2, 2, 2, 2], degree=3))
            Line((16.452241715, 26.427550357), (20.938271605, 26.427550357))
            add(Edge.make_bspline(
                [(20.938271605, 26.427550357), (20.869047408, 26.611251641), (20.724019476, 26.996114424), (20.494855563, 27.598933852), (20.246521426, 28.255028931), (20.068925554, 28.708005059), (19.976608187, 28.943469786)],
                knots=[0, 0, 0, 0, 0.874609537, 1.832347895, 2.873217421, 4, 4, 4, 4], degree=3))
            add(Edge.make_bspline(
                [(19.976608187, 28.943469786), (20.254044541, 29.006736773), (20.82895339, 29.137839819), (21.72067613, 29.359043494), (22.675782468, 29.602044012), (23.333088149, 29.777923451), (23.67251462, 29.868745939)],
                knots=[0, 0, 0, 0, 0.896174117, 1.857068916, 2.893410544, 4, 4, 4, 4], degree=3))
        make_face()
    extrude(amount=EXTRUDE_1_5_DEPTH)


solid = Compound([part.part, body_2.part, body_3.part, body_4.part, body_5.part])
